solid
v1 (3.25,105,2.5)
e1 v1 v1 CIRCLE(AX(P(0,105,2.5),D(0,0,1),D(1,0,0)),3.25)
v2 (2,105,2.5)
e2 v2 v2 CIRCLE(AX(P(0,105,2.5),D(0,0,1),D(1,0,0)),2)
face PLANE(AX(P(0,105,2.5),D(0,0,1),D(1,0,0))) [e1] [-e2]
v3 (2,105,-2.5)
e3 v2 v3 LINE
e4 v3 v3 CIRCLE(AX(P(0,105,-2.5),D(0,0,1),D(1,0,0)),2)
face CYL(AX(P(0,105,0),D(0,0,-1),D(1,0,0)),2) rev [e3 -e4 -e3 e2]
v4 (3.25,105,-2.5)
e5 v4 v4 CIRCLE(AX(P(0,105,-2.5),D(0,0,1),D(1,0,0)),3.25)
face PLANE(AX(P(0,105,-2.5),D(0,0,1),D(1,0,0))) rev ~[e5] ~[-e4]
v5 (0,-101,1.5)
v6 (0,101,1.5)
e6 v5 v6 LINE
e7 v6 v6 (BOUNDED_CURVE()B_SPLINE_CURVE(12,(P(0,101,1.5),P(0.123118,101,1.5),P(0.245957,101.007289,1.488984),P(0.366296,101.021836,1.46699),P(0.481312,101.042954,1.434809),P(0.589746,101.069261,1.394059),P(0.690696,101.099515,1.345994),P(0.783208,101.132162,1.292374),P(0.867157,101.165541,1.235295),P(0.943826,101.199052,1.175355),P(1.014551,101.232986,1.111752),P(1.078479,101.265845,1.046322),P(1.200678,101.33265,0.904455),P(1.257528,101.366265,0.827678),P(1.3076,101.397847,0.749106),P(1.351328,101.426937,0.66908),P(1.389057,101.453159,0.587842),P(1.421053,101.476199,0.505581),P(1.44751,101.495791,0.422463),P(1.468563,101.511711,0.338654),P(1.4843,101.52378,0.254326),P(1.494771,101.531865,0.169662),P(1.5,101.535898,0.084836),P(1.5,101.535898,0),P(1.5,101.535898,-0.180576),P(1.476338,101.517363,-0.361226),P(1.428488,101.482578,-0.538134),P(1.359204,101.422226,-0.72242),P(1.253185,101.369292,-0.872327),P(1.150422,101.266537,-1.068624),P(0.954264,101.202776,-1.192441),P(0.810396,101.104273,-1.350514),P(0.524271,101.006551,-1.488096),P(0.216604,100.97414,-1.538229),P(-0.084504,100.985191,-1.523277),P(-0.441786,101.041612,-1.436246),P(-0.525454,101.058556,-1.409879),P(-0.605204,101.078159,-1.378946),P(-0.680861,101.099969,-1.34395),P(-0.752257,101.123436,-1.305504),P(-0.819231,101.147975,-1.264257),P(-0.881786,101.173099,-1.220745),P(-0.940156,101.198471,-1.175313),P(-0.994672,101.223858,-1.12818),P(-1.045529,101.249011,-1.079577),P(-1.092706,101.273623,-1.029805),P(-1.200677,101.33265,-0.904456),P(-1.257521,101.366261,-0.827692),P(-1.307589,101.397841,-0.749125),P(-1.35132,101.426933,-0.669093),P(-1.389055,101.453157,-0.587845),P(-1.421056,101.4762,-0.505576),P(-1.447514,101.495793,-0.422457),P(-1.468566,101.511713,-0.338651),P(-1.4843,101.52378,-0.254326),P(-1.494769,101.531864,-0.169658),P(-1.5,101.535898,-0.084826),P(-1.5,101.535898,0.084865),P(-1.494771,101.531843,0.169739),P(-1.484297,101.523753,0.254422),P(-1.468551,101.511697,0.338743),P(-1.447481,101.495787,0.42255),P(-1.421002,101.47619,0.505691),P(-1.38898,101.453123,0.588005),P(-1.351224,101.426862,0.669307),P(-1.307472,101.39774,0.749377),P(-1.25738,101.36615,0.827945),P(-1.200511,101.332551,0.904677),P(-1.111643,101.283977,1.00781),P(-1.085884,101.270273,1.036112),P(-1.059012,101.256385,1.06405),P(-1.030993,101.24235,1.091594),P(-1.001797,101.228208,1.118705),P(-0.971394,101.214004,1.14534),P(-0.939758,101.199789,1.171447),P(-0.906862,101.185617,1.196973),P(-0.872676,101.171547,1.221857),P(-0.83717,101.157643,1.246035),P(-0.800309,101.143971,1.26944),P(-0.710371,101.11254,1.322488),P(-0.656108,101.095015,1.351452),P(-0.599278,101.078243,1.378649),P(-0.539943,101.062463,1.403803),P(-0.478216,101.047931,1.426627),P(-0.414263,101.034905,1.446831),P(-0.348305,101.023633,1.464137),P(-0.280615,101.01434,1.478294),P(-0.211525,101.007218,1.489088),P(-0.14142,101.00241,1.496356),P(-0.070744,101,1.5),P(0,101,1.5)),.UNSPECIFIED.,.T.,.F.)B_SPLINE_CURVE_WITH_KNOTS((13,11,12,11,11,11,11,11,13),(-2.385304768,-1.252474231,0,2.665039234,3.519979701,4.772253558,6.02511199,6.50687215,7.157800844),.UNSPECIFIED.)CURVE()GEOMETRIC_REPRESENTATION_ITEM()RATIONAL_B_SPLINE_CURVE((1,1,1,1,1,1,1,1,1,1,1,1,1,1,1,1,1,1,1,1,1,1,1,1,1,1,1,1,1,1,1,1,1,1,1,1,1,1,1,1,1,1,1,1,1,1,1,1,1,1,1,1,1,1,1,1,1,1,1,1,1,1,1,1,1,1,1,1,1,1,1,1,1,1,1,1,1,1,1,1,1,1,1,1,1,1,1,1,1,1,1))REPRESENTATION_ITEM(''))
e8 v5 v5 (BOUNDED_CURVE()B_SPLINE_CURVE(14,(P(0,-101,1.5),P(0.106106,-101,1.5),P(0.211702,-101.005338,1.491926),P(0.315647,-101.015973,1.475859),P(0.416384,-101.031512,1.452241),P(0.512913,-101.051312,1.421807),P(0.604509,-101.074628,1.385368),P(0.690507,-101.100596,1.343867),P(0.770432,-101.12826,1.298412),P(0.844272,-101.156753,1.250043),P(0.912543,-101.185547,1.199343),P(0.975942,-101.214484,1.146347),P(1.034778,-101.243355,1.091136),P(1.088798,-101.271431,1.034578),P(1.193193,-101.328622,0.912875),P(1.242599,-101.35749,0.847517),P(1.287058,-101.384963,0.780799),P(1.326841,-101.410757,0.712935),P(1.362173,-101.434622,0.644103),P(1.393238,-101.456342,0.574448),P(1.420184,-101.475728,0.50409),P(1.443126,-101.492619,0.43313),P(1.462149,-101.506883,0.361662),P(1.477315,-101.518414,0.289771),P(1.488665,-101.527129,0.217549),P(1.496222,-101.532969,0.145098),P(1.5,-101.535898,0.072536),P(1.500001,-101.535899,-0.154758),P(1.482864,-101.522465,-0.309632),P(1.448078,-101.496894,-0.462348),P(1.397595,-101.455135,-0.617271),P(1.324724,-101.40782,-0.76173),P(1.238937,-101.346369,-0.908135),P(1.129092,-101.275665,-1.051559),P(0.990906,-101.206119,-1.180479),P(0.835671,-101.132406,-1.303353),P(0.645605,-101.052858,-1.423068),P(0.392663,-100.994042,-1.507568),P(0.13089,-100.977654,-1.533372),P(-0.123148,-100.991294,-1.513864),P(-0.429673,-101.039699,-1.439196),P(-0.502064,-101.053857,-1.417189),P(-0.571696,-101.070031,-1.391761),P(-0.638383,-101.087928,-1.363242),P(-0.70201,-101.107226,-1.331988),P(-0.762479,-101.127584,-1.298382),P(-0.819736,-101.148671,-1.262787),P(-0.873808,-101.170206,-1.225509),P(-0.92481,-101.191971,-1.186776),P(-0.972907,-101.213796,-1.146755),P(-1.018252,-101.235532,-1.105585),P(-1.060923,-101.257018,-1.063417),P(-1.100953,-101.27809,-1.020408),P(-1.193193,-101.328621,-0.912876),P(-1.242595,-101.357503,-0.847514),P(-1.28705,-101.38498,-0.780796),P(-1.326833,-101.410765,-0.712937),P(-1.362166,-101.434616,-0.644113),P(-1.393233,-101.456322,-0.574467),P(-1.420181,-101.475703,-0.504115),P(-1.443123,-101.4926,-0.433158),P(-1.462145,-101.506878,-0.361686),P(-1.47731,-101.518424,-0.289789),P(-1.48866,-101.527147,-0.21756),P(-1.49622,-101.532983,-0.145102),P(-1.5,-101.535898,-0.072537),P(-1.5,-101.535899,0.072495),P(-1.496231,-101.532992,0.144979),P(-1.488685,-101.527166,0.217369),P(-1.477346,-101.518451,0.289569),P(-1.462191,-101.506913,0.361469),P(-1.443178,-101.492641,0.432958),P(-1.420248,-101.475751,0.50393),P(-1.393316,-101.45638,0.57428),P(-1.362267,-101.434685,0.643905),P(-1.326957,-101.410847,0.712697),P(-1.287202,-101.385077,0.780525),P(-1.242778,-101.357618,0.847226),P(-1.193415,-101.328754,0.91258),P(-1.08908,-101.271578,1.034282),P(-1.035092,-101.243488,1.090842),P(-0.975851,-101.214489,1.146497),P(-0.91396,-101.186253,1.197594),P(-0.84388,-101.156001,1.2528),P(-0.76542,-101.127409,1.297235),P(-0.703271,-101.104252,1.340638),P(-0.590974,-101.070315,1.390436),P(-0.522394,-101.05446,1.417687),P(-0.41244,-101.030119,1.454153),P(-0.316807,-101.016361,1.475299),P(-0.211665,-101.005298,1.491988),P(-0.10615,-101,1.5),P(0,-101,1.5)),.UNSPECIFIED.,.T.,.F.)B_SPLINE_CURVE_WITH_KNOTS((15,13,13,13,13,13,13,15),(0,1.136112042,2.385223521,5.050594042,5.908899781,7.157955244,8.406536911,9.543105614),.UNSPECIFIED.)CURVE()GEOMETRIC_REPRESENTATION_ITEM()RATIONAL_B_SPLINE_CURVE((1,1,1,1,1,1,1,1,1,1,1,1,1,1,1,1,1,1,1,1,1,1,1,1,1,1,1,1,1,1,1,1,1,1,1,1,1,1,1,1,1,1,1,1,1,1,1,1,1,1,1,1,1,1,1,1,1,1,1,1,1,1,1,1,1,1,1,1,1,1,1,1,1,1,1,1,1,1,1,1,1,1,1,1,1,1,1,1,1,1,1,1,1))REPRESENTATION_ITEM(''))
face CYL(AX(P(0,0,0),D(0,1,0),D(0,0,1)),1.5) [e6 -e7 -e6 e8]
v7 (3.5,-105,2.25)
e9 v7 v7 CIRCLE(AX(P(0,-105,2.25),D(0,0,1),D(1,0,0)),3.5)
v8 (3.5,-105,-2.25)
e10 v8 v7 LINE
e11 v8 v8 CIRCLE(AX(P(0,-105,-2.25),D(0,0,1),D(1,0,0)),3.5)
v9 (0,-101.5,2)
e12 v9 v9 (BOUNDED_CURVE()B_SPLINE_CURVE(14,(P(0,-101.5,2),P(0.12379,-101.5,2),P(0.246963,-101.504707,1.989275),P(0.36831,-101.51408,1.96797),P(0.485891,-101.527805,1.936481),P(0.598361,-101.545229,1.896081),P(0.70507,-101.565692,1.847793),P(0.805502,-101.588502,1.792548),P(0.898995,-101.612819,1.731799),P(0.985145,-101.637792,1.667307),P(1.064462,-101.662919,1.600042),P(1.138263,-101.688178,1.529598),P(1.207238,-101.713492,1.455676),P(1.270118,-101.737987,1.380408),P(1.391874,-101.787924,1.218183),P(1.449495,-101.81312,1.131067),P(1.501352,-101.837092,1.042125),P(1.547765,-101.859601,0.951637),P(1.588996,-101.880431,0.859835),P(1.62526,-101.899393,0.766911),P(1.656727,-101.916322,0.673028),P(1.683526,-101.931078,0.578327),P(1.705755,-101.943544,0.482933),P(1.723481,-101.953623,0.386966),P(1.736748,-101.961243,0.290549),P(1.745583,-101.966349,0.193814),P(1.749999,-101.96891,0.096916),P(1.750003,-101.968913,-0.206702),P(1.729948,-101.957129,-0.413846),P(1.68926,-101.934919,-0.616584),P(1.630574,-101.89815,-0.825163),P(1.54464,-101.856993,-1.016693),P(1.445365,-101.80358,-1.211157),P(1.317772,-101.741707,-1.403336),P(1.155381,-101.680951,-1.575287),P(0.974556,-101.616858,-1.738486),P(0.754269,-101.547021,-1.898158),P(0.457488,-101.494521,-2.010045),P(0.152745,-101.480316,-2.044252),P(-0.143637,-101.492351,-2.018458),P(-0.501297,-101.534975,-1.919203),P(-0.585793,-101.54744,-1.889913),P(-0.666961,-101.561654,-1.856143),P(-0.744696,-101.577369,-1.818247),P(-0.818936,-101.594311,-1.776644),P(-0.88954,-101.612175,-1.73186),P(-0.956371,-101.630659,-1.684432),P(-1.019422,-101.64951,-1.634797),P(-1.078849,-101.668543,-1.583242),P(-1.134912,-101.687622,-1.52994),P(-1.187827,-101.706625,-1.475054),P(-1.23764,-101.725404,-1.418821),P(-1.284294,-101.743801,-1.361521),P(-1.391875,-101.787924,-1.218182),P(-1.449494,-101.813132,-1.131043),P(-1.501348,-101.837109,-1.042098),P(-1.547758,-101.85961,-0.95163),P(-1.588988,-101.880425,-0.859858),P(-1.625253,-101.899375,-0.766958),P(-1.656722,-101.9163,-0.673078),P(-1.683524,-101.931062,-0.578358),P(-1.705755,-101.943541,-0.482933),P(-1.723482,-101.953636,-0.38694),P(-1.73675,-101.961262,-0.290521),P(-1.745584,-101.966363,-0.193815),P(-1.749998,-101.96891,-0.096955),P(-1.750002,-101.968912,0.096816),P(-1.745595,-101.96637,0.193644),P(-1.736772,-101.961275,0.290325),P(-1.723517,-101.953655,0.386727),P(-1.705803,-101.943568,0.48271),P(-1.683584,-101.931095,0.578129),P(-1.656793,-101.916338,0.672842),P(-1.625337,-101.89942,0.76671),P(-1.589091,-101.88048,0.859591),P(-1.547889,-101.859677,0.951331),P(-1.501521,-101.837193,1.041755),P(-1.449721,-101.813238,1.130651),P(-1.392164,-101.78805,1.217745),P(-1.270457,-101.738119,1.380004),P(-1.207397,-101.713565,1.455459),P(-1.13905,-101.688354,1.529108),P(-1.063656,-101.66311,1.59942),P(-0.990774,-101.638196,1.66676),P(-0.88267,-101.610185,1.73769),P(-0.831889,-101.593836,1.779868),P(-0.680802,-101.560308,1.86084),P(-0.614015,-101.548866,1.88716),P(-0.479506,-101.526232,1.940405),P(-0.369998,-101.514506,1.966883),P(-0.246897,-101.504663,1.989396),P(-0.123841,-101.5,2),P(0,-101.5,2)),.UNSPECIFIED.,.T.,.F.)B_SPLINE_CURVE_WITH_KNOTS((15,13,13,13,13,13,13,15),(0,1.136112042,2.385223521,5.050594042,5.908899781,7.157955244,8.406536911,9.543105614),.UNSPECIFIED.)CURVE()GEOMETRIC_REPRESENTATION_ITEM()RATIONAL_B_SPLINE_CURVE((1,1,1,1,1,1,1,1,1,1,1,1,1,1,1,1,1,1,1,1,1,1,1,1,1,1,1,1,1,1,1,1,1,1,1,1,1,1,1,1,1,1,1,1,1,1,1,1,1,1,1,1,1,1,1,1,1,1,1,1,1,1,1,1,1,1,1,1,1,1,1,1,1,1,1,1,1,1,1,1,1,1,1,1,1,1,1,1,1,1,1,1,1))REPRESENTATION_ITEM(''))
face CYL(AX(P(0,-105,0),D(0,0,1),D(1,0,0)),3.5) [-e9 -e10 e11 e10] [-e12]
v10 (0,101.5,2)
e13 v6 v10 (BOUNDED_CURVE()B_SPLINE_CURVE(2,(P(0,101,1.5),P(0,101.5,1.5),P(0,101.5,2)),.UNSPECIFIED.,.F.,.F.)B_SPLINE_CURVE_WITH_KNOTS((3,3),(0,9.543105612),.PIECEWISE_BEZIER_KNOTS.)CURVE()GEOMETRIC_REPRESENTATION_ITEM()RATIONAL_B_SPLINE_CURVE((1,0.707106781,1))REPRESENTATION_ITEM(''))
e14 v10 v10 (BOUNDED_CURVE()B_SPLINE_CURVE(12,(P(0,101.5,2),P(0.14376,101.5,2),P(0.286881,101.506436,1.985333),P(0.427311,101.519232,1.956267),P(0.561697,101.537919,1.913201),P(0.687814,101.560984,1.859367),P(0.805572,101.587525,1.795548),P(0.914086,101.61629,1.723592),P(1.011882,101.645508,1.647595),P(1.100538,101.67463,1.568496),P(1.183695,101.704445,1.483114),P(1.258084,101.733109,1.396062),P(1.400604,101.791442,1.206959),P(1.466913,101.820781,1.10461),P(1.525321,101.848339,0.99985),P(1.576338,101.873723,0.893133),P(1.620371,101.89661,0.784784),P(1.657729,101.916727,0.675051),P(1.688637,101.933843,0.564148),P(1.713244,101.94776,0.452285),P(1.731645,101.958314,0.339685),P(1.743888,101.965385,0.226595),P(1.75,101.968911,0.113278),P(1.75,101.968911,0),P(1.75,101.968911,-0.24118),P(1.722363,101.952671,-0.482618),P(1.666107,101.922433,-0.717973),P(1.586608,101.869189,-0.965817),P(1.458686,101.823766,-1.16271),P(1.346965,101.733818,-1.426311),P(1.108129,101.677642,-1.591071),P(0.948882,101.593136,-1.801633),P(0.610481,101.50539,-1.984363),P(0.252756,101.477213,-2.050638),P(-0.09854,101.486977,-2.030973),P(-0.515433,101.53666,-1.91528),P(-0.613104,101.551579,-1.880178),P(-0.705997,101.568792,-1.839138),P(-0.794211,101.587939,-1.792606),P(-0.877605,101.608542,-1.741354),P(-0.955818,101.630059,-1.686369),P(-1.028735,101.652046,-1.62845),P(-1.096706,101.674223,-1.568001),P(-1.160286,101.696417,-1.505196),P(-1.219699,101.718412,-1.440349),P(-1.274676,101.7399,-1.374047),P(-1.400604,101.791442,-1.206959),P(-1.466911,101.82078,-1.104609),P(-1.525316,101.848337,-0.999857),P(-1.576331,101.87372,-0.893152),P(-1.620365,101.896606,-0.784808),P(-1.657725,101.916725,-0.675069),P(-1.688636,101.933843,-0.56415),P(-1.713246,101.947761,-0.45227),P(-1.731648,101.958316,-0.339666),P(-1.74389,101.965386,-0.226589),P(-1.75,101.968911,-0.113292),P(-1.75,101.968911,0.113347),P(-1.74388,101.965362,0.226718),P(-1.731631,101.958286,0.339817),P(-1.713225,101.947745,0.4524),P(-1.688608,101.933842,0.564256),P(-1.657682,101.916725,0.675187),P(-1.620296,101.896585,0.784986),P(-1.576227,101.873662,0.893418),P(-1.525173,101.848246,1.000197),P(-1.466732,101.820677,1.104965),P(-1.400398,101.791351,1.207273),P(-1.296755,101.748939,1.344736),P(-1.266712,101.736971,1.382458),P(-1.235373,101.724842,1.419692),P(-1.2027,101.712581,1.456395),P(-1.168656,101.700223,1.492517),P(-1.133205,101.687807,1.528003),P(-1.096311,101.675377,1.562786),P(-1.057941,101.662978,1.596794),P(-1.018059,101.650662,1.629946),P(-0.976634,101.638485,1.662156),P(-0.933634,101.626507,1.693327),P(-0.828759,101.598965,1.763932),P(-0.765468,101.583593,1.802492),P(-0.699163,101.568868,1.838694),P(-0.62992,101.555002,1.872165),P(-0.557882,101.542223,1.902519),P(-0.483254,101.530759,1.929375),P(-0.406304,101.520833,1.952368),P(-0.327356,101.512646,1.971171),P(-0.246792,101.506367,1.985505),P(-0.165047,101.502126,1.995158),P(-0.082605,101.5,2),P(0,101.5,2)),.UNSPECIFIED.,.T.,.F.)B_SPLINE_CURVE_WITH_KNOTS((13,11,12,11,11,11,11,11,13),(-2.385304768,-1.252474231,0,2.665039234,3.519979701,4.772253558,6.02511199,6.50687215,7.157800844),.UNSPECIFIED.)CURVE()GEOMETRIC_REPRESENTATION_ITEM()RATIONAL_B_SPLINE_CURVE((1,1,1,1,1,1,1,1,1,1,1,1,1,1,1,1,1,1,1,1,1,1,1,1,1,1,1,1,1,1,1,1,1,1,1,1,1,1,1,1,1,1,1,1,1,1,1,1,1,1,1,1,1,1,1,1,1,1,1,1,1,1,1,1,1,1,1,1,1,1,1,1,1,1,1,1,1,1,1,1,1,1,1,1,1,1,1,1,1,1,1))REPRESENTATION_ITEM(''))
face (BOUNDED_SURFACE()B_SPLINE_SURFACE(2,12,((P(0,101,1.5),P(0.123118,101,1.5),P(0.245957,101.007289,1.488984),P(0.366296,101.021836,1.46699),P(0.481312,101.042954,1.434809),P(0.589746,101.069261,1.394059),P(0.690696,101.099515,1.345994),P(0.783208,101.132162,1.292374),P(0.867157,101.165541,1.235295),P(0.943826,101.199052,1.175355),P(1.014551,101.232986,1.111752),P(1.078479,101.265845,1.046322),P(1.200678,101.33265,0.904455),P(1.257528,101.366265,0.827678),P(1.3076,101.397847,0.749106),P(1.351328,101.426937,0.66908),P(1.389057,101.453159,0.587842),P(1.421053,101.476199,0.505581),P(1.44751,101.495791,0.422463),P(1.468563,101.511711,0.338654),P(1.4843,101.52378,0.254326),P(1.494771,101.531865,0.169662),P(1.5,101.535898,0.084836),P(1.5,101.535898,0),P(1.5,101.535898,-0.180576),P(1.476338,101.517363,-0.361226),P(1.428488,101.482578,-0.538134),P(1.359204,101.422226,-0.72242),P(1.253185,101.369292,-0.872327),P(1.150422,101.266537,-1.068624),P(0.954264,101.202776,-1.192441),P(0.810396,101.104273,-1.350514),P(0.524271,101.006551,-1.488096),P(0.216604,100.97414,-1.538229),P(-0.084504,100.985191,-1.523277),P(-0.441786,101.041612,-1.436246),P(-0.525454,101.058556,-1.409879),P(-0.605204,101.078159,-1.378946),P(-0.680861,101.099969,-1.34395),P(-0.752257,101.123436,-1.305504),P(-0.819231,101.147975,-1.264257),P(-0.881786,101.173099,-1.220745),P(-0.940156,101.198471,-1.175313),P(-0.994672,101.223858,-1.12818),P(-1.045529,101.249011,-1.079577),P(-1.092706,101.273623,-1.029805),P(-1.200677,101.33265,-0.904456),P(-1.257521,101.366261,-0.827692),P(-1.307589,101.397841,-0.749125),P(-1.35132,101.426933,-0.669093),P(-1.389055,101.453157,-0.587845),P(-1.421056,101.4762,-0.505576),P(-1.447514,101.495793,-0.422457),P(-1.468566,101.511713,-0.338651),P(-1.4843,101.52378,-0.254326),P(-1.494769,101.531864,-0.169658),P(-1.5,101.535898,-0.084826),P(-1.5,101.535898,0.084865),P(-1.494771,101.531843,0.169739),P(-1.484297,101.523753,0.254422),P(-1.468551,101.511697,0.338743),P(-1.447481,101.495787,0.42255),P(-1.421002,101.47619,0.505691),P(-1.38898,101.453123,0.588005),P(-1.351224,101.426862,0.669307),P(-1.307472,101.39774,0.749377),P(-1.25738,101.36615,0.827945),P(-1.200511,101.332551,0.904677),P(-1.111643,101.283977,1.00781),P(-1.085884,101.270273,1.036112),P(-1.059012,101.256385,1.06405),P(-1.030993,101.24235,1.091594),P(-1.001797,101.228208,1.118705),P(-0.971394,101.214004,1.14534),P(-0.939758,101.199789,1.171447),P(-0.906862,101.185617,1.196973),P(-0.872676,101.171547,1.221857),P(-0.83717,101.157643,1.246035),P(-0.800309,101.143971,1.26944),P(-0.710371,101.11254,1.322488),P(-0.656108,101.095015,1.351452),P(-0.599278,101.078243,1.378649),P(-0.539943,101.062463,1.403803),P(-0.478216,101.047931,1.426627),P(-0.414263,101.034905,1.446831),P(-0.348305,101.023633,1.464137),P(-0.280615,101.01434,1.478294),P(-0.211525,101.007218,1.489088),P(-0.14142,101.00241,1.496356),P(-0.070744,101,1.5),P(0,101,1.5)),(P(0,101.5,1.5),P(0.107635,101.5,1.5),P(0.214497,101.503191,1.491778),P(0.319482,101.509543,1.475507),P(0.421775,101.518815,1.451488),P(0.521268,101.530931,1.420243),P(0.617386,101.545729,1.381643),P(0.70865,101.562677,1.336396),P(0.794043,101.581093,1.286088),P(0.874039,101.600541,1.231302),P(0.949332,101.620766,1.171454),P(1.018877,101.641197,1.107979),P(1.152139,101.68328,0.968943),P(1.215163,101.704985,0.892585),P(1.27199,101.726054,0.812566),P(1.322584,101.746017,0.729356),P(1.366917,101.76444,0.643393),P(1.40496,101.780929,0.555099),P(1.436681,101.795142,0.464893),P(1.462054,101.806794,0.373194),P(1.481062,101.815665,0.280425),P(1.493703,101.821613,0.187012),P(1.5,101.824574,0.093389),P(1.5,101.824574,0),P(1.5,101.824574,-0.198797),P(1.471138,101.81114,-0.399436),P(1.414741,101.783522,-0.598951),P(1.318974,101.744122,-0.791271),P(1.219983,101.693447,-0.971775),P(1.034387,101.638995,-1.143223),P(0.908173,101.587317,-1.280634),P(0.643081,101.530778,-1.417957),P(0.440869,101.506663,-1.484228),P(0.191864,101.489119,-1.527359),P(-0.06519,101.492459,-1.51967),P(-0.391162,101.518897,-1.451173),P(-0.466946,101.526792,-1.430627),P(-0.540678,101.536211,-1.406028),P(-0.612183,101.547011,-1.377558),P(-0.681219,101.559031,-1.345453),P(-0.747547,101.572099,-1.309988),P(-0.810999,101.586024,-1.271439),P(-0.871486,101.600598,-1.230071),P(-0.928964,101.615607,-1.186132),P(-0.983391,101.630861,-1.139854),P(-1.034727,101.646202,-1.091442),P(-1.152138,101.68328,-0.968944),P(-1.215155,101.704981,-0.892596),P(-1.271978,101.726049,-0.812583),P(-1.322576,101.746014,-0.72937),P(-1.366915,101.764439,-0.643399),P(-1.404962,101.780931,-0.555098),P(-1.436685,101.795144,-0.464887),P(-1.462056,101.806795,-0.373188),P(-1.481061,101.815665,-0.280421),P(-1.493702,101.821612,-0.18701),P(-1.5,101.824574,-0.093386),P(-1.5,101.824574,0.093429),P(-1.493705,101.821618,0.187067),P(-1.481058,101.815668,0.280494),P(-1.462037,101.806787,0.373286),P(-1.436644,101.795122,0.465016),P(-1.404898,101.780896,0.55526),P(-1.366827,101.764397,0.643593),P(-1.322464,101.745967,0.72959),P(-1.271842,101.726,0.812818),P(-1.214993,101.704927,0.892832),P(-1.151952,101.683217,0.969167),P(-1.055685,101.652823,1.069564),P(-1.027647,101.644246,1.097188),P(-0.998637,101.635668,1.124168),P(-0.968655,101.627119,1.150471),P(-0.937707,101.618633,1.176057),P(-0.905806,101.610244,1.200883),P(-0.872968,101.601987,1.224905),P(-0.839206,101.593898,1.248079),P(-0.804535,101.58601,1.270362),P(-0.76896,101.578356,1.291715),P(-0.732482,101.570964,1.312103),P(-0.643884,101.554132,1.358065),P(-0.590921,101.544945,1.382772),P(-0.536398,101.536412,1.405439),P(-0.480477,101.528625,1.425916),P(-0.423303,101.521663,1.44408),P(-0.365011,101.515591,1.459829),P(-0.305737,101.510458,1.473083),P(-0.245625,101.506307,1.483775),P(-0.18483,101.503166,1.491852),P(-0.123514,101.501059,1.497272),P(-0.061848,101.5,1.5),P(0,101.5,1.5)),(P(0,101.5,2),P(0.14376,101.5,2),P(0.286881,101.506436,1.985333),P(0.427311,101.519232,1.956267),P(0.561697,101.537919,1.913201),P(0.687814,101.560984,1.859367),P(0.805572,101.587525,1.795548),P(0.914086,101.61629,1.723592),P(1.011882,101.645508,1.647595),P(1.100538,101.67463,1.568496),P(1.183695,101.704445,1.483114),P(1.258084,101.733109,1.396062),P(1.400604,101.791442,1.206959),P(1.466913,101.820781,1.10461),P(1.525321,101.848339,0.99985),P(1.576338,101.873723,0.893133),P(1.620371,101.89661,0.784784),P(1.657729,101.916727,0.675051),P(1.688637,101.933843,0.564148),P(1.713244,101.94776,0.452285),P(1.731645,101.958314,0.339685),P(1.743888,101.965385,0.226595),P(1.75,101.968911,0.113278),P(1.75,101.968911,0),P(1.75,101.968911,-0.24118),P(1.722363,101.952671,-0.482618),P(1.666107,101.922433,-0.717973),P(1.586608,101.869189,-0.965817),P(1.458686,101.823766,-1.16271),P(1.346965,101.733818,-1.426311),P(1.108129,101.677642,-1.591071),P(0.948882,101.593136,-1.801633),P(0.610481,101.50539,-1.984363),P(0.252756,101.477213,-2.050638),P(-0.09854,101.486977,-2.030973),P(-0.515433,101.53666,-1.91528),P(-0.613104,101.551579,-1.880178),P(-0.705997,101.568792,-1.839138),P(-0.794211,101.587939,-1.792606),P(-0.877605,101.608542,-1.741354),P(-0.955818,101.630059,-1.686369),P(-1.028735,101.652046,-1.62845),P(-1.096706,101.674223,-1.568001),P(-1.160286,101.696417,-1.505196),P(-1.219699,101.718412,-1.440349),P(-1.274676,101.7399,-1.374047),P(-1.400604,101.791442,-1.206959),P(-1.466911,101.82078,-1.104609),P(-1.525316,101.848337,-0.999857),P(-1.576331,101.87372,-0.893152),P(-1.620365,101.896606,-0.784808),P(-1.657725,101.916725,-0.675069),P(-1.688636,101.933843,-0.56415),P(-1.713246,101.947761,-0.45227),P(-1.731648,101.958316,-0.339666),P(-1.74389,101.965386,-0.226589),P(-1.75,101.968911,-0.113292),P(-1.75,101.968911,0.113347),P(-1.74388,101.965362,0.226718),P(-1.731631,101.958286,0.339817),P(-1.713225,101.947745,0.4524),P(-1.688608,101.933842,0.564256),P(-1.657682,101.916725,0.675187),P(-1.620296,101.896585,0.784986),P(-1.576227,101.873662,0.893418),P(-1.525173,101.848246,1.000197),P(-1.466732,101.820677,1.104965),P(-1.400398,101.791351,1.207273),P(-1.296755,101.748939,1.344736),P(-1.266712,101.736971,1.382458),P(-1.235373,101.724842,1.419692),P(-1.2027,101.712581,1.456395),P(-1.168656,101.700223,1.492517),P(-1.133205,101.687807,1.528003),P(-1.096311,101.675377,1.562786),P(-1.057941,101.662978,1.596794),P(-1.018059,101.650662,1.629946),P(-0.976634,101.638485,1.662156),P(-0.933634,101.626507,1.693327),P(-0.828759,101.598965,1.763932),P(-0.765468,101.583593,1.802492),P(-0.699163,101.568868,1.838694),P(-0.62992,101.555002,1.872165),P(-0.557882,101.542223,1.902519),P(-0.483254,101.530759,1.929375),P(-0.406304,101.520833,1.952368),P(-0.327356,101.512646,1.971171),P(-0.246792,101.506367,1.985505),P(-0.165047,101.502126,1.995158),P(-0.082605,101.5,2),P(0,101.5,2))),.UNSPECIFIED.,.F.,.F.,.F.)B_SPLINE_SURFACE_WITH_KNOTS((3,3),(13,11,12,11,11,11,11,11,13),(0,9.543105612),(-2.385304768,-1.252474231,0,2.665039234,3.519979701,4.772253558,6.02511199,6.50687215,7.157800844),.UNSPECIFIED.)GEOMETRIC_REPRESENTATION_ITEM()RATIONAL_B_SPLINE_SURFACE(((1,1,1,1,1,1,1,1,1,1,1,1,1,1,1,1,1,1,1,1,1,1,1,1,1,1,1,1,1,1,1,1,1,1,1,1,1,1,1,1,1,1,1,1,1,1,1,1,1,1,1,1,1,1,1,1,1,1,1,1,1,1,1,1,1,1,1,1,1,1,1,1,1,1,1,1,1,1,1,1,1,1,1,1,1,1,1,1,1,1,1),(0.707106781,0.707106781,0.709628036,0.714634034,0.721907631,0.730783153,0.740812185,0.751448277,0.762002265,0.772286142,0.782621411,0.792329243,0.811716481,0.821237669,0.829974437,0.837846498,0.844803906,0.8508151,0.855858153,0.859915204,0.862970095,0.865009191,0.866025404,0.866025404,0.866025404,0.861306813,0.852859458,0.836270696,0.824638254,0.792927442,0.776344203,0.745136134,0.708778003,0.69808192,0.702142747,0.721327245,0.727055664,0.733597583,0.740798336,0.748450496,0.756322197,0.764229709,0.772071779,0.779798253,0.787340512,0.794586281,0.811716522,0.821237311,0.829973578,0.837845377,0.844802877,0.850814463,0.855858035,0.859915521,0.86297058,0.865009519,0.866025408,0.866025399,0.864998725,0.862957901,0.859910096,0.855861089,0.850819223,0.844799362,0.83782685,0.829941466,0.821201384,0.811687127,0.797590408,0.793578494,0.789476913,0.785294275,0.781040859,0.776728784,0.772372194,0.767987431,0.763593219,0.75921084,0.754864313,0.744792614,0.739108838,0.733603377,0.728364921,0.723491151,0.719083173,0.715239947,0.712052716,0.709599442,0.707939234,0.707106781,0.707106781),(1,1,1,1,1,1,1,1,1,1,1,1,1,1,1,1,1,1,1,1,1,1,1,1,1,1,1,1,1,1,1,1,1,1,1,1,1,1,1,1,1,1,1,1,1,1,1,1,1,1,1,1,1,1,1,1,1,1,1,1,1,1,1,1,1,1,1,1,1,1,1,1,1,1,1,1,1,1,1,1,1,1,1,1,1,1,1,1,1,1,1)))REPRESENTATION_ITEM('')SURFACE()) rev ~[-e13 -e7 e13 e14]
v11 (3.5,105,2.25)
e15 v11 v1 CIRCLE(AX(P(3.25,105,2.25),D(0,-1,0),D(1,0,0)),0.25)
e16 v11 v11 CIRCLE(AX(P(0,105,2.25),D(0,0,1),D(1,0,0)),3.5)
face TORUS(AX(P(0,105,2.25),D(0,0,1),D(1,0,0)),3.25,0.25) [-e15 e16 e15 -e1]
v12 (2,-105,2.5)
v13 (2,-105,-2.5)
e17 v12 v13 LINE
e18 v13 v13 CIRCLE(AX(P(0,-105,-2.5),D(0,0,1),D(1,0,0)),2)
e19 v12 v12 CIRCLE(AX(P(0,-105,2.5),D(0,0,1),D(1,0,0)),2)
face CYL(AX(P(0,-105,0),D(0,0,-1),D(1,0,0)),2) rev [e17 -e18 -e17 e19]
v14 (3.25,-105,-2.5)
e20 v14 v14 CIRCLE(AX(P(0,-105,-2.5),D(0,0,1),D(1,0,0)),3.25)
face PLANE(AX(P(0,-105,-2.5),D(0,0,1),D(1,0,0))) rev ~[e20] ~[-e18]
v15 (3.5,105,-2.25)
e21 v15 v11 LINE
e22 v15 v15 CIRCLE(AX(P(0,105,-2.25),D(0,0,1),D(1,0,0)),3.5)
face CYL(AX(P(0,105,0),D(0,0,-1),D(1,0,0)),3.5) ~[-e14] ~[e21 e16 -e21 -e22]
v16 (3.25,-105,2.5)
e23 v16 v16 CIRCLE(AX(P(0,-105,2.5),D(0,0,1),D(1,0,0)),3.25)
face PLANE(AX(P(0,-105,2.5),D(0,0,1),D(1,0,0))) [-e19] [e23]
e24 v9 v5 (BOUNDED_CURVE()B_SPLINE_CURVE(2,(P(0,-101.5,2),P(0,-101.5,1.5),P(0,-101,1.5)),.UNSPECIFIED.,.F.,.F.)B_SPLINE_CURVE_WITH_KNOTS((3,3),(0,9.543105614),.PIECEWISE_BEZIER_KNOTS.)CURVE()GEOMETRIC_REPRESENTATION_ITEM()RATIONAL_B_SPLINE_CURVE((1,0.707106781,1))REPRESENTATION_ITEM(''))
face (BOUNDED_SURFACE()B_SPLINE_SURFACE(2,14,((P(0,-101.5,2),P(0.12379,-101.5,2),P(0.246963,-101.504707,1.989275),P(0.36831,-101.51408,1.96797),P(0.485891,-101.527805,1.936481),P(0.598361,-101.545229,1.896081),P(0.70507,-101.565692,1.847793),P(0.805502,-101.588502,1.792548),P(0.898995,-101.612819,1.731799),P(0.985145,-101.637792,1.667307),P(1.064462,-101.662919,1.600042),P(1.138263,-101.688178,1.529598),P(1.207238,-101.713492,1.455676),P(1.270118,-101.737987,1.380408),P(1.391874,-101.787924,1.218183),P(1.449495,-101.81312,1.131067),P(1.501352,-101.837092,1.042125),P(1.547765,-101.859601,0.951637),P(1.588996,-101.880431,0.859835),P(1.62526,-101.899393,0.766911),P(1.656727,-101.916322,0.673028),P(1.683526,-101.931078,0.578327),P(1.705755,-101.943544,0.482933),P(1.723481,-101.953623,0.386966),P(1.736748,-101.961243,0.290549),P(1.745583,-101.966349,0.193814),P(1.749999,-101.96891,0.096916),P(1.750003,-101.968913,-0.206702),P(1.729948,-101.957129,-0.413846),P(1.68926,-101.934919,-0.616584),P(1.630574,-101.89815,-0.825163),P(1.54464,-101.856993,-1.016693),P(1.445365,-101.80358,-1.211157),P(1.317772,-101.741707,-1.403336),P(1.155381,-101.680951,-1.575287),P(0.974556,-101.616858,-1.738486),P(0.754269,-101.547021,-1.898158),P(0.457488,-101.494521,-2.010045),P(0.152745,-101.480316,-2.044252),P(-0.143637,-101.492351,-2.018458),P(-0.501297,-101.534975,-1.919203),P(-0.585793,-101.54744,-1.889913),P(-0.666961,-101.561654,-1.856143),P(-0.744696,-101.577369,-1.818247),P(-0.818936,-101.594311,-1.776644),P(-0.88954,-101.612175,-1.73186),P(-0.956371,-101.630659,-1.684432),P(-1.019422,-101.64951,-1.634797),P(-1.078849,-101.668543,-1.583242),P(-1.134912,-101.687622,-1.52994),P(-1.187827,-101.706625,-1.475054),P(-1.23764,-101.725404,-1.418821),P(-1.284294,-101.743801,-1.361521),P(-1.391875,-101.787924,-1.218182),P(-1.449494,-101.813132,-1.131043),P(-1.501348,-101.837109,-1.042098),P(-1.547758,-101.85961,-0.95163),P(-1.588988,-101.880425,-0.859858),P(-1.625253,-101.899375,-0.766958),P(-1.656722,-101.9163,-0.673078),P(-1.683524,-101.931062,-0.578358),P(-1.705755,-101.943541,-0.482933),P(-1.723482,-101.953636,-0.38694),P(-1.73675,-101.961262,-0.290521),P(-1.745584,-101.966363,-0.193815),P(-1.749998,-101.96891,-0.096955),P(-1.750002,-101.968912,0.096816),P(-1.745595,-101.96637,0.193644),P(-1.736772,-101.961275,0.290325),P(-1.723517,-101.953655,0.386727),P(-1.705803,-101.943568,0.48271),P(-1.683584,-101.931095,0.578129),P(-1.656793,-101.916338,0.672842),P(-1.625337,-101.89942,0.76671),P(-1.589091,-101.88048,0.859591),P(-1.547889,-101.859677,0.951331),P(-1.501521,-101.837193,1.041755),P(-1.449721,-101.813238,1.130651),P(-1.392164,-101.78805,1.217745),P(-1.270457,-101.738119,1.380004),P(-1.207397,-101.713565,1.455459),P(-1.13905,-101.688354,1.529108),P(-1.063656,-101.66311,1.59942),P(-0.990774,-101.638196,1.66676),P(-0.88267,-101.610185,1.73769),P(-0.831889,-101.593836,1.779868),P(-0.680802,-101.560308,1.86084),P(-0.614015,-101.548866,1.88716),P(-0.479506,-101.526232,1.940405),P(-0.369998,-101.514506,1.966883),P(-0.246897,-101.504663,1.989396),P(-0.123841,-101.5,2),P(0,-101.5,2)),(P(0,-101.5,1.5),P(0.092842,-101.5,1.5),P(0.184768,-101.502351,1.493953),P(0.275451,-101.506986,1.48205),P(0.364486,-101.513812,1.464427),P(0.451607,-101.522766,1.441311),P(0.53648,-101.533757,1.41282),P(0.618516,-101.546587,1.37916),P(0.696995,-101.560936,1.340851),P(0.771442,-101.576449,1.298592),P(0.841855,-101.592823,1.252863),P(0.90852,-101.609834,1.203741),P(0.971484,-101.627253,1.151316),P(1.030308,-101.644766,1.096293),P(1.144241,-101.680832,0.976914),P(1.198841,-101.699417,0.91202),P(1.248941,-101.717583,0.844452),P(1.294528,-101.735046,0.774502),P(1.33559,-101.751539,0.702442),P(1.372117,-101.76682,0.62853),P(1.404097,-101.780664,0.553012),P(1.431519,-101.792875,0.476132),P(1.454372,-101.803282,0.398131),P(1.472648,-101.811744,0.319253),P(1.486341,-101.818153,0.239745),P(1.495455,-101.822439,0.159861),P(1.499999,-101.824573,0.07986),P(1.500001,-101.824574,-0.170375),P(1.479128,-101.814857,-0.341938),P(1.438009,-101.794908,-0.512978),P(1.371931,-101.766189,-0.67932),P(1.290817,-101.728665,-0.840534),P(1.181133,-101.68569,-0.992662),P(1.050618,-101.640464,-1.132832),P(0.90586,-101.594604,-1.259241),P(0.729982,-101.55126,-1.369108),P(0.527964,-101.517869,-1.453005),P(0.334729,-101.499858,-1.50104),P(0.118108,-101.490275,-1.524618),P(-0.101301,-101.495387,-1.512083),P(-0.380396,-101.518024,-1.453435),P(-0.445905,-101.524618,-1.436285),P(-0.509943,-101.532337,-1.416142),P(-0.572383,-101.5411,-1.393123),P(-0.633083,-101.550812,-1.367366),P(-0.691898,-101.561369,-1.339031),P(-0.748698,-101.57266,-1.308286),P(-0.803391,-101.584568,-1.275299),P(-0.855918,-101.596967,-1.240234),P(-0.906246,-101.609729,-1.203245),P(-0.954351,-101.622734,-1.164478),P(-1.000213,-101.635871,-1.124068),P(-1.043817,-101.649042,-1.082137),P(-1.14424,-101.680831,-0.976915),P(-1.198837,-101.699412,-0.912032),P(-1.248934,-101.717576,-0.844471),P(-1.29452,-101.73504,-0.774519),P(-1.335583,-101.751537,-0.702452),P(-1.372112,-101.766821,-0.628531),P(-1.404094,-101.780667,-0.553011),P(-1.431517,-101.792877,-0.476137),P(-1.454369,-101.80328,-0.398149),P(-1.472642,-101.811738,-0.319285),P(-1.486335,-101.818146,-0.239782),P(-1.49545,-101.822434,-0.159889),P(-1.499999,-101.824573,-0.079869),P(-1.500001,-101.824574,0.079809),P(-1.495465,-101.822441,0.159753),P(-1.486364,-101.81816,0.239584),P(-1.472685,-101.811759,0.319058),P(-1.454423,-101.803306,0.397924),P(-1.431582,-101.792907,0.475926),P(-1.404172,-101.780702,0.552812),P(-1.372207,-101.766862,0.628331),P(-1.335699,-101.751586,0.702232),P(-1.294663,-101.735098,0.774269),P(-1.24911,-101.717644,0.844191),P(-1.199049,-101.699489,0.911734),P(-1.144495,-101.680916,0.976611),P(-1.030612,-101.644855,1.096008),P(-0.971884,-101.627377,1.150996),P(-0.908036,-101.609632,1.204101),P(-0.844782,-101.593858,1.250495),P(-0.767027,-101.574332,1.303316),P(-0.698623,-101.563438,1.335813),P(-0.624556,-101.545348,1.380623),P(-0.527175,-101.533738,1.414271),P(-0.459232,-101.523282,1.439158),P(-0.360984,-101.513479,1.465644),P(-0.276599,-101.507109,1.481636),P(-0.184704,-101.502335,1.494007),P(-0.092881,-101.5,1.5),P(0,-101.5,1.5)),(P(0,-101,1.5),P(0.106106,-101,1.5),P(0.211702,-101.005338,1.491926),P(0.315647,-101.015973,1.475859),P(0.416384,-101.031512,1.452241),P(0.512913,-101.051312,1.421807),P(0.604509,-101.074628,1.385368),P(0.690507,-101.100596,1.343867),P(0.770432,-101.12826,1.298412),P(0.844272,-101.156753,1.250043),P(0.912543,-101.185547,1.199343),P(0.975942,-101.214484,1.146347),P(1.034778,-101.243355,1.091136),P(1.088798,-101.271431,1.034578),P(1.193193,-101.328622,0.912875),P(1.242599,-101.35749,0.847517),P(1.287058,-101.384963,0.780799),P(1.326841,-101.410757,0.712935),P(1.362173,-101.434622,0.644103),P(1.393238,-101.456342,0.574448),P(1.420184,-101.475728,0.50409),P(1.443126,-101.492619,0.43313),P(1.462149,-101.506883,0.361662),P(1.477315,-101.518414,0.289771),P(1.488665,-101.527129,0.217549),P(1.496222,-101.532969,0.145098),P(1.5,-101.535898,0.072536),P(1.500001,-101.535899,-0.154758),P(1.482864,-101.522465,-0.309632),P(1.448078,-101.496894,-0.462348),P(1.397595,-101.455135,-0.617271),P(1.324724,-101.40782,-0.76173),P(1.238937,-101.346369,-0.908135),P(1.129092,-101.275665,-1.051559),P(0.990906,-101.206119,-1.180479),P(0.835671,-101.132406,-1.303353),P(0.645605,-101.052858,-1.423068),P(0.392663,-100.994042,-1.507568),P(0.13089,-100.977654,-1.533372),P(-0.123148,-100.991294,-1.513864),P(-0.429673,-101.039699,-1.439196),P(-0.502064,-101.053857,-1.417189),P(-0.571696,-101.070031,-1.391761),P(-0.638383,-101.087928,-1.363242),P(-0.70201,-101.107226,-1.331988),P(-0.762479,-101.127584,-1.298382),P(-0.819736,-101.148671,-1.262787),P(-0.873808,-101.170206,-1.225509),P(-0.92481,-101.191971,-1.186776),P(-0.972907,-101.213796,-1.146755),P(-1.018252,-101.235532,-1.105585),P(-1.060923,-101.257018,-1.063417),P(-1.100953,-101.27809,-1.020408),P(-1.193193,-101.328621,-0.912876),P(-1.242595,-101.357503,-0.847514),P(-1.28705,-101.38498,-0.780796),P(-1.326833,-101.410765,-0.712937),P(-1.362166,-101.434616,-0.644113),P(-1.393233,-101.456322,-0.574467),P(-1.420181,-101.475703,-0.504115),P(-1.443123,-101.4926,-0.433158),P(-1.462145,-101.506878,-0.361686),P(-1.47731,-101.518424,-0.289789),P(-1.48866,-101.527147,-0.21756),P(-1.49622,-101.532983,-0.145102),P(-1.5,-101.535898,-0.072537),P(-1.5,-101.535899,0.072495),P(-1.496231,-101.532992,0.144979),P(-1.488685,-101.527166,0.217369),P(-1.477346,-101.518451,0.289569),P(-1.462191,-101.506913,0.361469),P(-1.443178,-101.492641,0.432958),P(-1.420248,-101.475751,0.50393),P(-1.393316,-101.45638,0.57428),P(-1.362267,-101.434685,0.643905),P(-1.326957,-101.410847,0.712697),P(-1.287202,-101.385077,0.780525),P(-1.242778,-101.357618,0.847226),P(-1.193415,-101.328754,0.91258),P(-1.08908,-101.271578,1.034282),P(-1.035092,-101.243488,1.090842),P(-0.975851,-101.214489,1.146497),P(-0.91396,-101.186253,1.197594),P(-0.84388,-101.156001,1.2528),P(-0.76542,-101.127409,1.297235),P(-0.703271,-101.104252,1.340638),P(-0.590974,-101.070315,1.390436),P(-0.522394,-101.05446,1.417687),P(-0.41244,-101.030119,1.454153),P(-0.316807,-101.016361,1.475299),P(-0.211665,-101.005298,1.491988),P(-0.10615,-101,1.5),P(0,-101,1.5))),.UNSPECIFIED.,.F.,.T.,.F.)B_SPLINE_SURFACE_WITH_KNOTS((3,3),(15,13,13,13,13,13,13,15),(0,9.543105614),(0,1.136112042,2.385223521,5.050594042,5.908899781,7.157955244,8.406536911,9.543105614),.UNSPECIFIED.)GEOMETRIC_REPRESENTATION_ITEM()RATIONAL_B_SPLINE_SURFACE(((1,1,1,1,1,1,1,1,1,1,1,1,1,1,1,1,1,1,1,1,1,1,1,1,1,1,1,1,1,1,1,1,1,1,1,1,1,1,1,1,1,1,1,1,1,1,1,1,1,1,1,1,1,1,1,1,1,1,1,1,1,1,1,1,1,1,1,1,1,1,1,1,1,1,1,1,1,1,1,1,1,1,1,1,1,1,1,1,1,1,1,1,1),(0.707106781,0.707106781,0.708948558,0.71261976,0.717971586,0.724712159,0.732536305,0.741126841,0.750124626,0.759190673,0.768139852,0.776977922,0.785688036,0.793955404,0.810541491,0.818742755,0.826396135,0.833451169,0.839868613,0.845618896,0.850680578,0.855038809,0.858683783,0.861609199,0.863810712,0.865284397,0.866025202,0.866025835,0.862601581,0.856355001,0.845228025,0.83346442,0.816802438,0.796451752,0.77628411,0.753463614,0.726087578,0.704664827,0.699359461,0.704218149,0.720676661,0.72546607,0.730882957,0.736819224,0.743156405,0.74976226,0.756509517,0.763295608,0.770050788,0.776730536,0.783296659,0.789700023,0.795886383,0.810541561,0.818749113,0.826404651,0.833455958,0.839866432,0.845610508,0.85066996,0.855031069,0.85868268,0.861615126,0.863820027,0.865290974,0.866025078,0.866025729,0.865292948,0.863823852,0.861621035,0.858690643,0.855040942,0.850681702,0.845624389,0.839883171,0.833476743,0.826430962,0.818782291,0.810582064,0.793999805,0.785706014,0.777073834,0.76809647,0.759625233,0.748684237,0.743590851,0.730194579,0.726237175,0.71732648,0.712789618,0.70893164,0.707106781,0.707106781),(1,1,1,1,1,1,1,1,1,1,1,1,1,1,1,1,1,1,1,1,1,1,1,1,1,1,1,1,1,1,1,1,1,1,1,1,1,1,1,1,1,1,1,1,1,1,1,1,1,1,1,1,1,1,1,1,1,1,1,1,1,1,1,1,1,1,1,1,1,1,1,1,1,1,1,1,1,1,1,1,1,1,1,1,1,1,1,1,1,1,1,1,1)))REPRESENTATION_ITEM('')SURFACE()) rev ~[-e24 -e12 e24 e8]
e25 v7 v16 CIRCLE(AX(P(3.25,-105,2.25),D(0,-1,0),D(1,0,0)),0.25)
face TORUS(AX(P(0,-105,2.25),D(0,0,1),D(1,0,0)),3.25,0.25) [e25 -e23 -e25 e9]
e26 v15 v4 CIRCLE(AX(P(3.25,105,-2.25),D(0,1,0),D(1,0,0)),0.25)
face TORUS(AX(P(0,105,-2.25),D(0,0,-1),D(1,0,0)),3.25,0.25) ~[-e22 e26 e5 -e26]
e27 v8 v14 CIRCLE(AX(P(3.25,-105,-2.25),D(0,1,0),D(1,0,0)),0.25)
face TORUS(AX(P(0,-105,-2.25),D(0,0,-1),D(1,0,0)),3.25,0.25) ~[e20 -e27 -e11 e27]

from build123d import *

# Parameters (mm, degrees)
SKETCH1_R           = 1.5
BOSS_EXTRUDE1_DEPTH = 102
SKETCH2_R           = 3.5
SKETCH2_R_2         = 2
BOSS_EXTRUDE2_DEPTH = 2.5
FILLET3_R           = 0.25
FILLET4_R           = 0.5


with BuildPart() as part:
    # Sketch1 → Boss-Extrude1 (new, symmetric)
    with BuildSketch(Plane(origin=(0, 0, 0), x_dir=(1, 0, 0), z_dir=(0, 1, 0))):
        with Locations(Location((0, 0, 0), (0, 0, 270))):
            Circle(SKETCH1_R)
    extrude(amount=BOSS_EXTRUDE1_DEPTH, both=True)

    # Sketch2 → Boss-Extrude2 (add, symmetric)
    # profile 1 of 2: a face of its own
    with BuildSketch(Plane.XY):
        with Locations((0, 105)):
            Circle(SKETCH2_R)
        with Locations((0, 105)):
            Circle(SKETCH2_R_2, mode=Mode.SUBTRACT)
    # profile 2 of 2: a face of its own
    with BuildSketch(Plane.XY):
        with Locations((0, -105)):
            Circle(SKETCH2_R)
        with Locations((0, -105)):
            Circle(SKETCH2_R_2, mode=Mode.SUBTRACT)
    extrude(amount=BOSS_EXTRUDE2_DEPTH, both=True)

    # Fillet3
    fillet3_edges = [part.edges().sort_by_distance(p)[0] for p in [
        (-3.5, -105, -2.5),
        (-3.5, -105, 2.5),
        (-3.5, 105, -2.5),
        (-3.5, 105, 2.5),
    ]]
    fillet(fillet3_edges, radius=FILLET3_R)

    # Fillet4
    fillet4_edges = [part.edges().sort_by_distance(p)[0] for p in [
        (3e-09, -101.5, -1.5),
        (3e-09, 101.5, -1.5),
    ]]
    fillet(fillet4_edges, radius=FILLET4_R)


solid = part.part
